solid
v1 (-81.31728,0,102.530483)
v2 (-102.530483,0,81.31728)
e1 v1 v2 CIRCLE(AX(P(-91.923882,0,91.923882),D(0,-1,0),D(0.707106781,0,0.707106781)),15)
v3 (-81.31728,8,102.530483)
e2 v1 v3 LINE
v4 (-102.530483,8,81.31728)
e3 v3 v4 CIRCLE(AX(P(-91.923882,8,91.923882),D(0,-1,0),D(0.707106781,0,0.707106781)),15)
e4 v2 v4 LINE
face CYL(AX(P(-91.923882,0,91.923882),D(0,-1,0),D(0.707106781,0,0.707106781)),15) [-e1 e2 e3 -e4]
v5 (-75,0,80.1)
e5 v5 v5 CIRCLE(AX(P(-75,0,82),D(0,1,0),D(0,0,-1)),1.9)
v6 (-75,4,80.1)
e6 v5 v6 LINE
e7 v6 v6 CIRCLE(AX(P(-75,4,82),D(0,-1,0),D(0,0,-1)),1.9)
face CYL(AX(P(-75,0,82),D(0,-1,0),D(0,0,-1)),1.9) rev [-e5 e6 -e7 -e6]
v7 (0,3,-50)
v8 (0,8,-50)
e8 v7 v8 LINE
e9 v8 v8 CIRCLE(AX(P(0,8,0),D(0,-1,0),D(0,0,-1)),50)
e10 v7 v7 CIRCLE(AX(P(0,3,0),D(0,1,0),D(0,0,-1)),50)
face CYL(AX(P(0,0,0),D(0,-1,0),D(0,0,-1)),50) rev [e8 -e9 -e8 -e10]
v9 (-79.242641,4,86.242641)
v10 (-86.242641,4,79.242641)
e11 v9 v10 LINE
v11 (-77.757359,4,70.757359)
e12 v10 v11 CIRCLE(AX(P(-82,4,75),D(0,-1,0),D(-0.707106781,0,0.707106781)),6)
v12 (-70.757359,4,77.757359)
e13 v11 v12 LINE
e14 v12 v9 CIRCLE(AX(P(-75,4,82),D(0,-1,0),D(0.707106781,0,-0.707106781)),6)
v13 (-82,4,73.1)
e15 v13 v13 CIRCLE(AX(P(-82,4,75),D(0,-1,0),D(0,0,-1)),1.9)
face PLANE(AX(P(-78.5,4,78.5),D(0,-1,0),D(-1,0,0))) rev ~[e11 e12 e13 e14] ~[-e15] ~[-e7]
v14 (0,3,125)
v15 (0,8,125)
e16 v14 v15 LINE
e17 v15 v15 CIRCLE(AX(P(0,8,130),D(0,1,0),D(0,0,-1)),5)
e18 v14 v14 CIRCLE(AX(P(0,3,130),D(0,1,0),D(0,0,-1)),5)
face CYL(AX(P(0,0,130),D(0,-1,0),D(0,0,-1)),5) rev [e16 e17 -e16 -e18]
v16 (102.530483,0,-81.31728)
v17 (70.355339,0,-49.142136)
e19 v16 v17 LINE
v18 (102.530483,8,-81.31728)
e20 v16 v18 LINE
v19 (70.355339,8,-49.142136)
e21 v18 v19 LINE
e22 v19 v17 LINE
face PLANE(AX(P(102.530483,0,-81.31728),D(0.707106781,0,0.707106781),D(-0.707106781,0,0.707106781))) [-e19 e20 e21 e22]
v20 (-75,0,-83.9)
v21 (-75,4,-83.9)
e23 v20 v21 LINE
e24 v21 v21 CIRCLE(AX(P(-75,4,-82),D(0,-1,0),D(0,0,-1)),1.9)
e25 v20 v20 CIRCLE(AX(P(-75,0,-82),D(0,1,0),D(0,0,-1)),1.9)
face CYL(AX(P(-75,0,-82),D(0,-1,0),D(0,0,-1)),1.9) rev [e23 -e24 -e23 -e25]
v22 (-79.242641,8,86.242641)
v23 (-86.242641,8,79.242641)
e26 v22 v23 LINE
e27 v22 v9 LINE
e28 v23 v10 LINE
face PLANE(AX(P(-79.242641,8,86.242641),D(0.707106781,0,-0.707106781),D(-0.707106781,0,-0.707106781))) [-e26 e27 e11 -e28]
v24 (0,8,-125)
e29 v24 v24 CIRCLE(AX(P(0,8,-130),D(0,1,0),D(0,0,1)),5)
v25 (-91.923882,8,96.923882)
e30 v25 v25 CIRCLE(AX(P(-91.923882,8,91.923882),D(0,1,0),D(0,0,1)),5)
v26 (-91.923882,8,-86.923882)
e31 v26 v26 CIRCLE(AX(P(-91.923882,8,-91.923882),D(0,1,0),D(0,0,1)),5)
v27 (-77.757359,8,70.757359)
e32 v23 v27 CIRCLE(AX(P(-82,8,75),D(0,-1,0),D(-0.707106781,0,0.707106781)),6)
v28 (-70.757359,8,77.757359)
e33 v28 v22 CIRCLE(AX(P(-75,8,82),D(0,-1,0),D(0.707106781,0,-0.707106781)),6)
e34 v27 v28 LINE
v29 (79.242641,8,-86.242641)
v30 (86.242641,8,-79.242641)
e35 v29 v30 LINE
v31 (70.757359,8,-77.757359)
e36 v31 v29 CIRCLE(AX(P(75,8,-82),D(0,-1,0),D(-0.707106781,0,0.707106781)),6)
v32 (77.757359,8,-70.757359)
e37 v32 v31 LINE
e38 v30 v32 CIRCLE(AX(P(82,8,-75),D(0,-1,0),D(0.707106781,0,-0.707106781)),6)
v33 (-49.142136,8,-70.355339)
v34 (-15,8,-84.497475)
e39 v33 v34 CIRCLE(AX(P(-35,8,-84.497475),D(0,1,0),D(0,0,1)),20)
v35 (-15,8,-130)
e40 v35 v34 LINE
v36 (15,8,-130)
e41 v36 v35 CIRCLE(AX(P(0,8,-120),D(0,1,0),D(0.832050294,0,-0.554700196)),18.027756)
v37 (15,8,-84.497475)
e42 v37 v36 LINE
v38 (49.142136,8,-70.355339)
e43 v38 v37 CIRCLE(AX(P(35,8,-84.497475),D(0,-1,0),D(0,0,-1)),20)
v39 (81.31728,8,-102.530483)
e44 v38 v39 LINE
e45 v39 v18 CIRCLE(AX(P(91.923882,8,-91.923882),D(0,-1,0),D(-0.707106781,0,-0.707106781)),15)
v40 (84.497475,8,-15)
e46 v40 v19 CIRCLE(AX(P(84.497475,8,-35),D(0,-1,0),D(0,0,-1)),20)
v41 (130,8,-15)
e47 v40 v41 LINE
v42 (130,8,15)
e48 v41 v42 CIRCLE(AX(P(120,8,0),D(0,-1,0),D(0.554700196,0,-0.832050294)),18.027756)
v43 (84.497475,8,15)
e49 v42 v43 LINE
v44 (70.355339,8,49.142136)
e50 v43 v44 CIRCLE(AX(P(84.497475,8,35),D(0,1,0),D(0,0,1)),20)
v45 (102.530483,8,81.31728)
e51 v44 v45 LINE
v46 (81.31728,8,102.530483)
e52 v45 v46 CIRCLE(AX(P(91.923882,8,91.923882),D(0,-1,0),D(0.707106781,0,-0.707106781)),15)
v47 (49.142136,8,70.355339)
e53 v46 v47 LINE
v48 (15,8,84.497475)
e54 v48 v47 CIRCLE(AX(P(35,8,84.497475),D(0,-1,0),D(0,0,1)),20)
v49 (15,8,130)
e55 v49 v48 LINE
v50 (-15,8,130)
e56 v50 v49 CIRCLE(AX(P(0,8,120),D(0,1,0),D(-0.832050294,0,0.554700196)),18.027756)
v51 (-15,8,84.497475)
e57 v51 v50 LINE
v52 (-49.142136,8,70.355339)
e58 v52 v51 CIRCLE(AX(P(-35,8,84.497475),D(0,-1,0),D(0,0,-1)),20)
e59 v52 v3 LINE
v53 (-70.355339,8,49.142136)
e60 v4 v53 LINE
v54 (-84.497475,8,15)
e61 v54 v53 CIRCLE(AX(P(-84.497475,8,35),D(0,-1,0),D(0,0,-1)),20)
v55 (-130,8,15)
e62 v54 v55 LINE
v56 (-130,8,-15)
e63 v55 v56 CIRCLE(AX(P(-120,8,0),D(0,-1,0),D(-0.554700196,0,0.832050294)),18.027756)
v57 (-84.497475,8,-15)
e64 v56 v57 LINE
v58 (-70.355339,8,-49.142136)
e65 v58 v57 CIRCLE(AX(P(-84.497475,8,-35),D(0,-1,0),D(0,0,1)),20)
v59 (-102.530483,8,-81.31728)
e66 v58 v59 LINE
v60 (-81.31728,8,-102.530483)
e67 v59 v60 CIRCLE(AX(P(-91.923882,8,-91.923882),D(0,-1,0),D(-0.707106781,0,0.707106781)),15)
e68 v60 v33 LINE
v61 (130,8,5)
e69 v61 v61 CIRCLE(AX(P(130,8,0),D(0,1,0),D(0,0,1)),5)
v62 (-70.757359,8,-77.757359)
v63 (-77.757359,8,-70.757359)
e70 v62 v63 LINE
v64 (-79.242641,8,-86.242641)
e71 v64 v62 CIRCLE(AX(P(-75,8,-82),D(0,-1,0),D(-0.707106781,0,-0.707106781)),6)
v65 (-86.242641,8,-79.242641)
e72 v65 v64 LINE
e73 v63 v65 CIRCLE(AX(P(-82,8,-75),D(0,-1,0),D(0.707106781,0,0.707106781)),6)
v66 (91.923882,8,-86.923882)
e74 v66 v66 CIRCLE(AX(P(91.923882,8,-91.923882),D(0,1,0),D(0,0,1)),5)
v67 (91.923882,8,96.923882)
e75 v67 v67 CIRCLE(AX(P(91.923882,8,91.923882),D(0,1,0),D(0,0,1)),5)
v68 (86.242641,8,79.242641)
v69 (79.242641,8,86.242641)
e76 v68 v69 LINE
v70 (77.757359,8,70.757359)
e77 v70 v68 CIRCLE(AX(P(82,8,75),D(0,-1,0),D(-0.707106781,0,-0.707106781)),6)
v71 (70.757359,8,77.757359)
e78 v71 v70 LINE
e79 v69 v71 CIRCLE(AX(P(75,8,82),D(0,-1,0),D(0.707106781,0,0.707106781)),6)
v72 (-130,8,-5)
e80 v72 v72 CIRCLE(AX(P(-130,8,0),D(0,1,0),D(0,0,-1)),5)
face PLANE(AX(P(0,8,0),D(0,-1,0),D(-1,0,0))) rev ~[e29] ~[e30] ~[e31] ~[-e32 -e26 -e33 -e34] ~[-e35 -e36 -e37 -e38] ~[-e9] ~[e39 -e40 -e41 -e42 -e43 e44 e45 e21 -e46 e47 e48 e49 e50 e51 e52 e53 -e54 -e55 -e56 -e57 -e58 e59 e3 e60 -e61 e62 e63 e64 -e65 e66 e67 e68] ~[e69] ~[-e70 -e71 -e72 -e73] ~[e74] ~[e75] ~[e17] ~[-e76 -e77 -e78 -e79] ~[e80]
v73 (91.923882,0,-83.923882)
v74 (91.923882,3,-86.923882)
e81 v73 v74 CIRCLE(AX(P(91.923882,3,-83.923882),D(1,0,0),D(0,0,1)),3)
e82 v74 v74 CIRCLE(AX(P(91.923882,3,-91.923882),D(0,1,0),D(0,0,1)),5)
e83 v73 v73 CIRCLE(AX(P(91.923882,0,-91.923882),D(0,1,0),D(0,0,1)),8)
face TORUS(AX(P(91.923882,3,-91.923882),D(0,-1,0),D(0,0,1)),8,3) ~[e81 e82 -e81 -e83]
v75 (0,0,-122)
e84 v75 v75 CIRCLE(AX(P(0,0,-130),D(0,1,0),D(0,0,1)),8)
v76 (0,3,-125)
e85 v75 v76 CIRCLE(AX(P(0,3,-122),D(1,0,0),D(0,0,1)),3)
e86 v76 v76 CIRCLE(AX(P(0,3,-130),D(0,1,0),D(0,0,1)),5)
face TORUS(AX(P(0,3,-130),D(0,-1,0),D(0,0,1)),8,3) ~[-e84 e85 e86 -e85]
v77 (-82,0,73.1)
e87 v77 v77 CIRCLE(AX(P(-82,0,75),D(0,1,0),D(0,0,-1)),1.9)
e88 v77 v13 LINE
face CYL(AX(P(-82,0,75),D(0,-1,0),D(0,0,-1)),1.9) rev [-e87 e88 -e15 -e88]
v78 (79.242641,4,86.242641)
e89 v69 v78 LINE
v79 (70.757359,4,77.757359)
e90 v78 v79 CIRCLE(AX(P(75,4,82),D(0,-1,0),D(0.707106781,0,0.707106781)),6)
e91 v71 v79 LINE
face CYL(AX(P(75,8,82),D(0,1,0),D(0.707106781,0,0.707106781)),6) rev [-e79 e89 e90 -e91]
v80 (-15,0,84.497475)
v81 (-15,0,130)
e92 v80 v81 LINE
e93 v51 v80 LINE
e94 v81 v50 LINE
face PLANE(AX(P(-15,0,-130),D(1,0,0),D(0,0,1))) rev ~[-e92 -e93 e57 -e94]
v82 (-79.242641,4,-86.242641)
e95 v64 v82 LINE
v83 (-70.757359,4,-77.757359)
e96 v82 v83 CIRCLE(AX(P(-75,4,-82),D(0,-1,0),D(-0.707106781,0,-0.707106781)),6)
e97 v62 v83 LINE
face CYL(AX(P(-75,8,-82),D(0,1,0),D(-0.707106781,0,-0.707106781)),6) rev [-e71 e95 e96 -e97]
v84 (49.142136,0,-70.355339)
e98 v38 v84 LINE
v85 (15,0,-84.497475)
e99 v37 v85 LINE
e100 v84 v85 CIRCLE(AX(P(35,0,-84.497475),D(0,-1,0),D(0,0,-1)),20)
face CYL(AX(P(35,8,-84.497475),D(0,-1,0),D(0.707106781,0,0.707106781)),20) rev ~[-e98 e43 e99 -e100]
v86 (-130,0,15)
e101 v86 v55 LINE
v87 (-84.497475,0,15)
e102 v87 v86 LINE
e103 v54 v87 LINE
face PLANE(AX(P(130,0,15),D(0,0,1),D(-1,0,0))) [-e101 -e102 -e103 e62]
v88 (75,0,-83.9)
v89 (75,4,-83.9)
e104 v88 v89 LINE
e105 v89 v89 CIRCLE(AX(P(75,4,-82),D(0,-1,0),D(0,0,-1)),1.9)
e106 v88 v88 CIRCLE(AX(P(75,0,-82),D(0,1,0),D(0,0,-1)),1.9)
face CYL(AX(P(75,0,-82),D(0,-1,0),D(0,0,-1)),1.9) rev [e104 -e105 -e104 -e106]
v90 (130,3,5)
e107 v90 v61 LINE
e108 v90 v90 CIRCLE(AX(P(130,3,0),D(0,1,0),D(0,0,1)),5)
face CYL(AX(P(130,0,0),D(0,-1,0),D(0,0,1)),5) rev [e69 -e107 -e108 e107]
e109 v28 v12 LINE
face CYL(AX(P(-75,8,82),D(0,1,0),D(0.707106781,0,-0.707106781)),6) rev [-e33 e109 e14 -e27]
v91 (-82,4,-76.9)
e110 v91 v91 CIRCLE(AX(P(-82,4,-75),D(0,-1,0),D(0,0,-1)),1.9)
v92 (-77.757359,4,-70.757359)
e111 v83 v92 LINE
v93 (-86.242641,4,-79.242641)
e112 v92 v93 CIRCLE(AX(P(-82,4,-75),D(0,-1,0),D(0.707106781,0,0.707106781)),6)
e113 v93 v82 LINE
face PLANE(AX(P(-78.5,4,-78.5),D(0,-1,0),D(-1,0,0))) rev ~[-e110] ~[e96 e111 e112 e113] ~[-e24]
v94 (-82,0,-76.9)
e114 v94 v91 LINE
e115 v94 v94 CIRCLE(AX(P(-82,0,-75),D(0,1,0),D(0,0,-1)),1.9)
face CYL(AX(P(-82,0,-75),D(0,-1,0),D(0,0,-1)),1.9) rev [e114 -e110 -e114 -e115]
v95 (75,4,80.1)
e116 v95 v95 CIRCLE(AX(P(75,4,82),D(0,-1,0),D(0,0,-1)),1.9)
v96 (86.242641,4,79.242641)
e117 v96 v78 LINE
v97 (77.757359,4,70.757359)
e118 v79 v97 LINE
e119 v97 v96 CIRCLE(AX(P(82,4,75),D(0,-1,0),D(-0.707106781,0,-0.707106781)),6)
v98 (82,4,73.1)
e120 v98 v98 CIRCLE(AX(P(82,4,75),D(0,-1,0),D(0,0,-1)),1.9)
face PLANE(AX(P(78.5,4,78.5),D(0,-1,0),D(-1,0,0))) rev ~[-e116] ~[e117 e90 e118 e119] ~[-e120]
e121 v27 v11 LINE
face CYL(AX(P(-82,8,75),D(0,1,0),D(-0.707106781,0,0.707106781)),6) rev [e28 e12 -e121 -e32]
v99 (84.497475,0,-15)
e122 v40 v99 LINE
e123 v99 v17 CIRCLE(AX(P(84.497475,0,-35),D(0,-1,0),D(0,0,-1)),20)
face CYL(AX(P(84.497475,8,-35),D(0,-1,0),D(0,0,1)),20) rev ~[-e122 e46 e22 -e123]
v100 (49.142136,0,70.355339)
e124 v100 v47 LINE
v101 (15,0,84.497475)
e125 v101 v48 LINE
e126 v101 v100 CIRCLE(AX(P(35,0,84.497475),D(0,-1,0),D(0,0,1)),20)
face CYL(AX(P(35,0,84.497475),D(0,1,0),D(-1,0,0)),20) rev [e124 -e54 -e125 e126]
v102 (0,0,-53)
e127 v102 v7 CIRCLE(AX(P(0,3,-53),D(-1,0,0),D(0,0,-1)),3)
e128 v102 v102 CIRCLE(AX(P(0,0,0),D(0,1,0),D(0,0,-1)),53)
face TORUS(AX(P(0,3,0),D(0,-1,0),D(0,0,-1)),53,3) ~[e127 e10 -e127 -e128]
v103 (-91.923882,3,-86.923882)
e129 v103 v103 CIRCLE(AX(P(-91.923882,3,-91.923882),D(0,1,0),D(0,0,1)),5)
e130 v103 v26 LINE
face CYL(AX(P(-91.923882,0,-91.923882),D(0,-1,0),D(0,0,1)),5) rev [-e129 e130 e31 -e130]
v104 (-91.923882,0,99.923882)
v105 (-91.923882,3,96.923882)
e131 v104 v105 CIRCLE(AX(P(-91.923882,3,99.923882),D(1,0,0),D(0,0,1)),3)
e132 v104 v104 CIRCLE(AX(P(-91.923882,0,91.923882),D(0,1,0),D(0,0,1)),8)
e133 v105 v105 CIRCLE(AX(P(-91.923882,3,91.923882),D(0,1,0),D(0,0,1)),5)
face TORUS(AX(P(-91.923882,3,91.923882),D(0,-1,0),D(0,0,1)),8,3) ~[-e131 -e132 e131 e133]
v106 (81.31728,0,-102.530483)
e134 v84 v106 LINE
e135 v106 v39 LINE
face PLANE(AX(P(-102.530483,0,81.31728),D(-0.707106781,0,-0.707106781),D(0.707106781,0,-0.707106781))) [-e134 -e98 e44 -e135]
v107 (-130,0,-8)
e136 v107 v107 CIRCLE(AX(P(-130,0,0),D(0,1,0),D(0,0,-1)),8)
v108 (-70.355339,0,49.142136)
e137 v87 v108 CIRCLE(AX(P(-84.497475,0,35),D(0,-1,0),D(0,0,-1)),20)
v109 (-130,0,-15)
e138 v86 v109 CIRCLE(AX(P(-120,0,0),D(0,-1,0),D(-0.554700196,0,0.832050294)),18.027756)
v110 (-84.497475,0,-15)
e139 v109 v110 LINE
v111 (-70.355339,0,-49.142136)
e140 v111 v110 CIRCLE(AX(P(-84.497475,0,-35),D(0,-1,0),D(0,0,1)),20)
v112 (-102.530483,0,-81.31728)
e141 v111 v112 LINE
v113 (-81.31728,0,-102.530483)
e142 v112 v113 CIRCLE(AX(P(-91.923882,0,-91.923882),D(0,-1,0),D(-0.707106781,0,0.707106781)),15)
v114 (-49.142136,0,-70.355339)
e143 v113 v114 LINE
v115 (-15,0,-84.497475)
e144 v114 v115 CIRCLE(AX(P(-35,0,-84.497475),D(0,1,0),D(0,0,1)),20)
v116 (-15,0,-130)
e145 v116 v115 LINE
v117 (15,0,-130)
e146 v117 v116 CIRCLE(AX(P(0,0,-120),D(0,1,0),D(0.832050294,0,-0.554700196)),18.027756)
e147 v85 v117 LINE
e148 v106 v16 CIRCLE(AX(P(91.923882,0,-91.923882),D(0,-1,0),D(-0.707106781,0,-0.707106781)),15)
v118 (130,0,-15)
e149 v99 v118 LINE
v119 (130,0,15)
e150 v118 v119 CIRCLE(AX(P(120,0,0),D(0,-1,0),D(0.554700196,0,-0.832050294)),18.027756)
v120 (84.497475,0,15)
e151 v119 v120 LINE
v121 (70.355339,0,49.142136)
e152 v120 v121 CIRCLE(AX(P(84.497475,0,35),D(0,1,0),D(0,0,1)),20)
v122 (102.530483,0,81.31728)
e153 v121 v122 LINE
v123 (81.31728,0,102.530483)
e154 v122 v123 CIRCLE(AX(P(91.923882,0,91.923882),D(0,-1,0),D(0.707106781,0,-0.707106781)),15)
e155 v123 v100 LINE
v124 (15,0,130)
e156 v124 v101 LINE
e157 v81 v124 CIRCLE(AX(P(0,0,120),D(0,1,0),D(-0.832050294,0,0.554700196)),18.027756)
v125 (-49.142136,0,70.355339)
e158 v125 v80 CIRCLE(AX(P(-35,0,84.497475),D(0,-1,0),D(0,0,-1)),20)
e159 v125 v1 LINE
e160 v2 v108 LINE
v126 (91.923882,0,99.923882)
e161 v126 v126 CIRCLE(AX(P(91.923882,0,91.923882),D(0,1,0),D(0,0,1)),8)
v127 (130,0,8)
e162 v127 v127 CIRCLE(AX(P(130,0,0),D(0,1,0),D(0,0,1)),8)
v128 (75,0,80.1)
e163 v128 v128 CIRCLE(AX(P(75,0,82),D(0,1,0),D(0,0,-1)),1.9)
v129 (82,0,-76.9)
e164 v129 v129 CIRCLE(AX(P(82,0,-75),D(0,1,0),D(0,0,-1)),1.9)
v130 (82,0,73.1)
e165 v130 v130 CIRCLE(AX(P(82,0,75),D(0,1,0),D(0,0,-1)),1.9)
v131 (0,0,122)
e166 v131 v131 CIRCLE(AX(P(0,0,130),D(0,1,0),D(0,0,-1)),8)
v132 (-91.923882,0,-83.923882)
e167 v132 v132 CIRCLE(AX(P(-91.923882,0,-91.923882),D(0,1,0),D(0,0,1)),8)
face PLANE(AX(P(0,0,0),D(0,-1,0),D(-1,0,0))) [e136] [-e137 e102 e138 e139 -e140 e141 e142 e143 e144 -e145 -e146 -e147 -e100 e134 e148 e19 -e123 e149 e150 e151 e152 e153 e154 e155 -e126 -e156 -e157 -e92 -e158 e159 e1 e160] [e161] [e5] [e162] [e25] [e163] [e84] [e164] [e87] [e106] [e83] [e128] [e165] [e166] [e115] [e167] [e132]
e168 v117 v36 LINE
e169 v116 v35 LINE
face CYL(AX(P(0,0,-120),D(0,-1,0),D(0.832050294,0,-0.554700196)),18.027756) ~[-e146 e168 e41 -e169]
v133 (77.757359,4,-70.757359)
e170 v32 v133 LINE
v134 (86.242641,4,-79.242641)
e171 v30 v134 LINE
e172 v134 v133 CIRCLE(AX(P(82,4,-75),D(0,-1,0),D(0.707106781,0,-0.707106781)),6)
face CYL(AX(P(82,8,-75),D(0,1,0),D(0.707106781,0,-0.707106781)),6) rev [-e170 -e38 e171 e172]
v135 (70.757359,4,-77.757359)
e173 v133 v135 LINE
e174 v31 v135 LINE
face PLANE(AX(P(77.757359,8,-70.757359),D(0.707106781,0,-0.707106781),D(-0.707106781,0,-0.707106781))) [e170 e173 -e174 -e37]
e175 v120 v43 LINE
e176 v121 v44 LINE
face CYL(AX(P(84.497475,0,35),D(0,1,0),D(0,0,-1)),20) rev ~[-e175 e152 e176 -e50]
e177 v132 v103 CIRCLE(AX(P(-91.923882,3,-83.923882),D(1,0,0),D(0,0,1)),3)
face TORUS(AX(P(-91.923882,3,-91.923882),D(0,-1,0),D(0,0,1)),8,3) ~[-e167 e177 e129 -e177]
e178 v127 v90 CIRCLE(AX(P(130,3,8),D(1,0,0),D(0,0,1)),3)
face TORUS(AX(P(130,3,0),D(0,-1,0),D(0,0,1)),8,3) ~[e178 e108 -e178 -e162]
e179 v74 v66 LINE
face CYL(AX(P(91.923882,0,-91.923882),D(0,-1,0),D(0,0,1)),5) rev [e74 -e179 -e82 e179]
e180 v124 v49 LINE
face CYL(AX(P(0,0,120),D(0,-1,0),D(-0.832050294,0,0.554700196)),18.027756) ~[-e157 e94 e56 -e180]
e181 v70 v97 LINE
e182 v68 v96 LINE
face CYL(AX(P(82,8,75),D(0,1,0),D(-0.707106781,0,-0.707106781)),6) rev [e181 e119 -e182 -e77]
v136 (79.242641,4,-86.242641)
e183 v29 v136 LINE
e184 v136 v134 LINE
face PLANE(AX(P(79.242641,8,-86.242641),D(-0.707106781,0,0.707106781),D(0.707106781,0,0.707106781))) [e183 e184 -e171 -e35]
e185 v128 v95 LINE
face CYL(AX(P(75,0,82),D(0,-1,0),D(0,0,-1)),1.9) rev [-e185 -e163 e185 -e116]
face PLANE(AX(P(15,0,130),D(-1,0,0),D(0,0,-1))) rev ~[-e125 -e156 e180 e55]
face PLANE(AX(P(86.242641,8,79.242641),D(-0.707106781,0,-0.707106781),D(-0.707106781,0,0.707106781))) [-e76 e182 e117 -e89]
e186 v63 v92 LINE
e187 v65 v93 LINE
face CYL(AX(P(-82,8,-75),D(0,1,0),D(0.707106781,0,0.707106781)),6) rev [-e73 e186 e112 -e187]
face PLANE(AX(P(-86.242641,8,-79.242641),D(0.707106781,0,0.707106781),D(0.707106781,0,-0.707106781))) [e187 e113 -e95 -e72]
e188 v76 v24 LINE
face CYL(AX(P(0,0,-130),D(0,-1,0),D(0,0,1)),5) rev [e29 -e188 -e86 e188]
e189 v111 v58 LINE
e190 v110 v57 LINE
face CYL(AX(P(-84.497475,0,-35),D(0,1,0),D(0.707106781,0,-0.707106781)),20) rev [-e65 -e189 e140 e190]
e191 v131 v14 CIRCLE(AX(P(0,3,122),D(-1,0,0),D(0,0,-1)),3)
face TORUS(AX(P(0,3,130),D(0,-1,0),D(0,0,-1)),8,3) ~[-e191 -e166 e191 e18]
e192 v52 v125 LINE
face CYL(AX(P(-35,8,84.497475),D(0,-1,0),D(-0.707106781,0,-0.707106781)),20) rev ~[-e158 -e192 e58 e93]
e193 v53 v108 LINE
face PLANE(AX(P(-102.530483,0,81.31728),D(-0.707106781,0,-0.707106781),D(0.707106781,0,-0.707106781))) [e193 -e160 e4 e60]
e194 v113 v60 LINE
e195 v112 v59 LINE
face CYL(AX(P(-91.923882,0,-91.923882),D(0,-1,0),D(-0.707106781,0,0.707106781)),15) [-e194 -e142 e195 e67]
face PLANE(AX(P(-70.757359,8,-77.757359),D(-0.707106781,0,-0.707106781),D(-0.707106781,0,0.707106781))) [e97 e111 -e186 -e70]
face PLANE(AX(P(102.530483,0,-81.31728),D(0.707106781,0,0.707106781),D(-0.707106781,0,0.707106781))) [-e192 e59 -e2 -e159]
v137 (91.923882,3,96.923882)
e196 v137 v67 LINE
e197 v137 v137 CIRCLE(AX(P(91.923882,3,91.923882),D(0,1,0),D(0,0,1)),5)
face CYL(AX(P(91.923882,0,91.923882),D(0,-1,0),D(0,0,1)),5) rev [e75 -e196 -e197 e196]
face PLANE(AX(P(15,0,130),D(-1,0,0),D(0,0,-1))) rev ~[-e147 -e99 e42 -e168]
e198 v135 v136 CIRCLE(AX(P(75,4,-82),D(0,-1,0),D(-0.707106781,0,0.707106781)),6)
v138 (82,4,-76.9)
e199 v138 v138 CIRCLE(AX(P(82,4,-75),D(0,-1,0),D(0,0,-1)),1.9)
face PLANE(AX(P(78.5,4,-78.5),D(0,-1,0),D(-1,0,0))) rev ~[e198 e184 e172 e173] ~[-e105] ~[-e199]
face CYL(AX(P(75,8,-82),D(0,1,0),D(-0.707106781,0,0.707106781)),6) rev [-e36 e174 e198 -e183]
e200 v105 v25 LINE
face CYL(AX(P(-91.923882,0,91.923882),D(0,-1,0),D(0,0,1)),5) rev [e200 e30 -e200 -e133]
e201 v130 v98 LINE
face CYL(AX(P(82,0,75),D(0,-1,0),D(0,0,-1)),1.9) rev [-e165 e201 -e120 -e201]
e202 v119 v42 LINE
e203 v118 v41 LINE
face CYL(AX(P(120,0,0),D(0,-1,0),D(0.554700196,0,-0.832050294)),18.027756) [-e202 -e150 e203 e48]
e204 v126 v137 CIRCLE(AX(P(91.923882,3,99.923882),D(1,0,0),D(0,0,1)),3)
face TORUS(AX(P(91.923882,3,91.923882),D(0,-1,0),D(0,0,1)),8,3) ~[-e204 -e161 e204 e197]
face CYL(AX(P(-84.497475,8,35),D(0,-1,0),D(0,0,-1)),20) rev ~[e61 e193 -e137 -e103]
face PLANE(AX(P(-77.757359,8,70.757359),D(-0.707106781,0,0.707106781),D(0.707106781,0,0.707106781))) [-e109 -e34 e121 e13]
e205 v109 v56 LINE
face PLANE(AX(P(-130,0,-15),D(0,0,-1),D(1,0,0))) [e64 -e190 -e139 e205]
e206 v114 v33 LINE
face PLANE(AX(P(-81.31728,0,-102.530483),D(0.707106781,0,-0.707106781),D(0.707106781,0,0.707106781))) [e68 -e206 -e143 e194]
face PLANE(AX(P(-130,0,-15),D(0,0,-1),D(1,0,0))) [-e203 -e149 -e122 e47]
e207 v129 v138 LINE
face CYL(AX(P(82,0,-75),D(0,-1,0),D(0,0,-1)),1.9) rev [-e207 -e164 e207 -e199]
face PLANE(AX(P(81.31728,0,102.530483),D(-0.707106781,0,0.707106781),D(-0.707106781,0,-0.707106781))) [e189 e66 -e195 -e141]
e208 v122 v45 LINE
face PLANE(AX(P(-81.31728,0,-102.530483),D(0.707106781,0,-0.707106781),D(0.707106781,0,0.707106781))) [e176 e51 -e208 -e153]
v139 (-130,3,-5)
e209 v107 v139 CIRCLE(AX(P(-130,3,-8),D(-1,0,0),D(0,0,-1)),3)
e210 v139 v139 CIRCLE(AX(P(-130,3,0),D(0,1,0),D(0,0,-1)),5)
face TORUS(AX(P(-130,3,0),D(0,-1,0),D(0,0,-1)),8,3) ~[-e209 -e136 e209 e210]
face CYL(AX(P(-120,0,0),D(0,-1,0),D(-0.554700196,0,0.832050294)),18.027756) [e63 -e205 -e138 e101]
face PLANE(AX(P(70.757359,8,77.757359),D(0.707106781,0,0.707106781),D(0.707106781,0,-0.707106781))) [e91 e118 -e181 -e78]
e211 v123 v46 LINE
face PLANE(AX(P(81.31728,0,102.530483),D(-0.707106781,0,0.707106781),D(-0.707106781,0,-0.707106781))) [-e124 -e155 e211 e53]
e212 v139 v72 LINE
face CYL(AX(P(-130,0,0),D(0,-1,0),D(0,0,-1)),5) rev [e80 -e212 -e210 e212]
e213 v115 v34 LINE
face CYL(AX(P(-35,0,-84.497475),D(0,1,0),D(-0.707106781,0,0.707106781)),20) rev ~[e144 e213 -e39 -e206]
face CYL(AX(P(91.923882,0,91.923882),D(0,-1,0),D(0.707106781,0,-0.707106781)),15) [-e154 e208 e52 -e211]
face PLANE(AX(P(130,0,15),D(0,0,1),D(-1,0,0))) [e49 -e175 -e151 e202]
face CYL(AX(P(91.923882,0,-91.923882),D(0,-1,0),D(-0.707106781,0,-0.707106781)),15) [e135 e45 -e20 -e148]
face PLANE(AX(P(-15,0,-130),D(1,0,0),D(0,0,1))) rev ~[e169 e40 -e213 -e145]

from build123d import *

# Parameters (mm, degrees)
SKETCH_1_R          = 5
EXTRUDE_1_DEPTH     = 8
SKETCH_2_R          = 5
EXTRUDE_2_DEPTH     = 8
SKETCH_3_R          = 5
EXTRUDE_3_DEPTH     = 8
SKETCH_4_R          = 5
EXTRUDE_4_DEPTH     = 8
FILLET_2_R          = 20
SKETCH_5_R          = 1.9
SKETCH_5_R_2        = 50
CUT_EXTRUDE_1_DEPTH = 10
CUT_EXTRUDE_2_DEPTH = 4
FILLET_3_R          = 3


with BuildPart() as part:
    # Эскиз1 → Бобышка-Вытянуть1 (new body)
    with BuildSketch(Plane(origin=(0, 0, 0), x_dir=(1, 0, 0), z_dir=(0, 1, 0))):
        with BuildLine():
            Line((-130, 15), (130, 15))
            ThreePointArc((130, 15), (138.027756377, 0), (130, -15))
            Line((130, -15), (-130, -15))
            ThreePointArc((-130, -15), (-138.027756377, 0), (-130, 15))
        make_face()
        with Locations(Location((130, 0, 0), (0, 0, 270))):
            Circle(SKETCH_1_R, mode=Mode.SUBTRACT)
        with Locations(Location((-130, 0, 0), (0, 0, 90))):
            Circle(SKETCH_1_R, mode=Mode.SUBTRACT)
    extrude(amount=EXTRUDE_1_DEPTH)

    # Эскиз2 → Бобышка-Вытянуть2 (add)
    with BuildSketch(Plane(origin=(0, 0, 0), x_dir=(1, 0, 0), z_dir=(0, 1, 0))):
        with BuildLine():
            Line((-15, 130), (-15, -130))
            ThreePointArc((-15, -130), (0, -138.027756377), (15, -130))
            Line((15, -130), (15, 130))
            ThreePointArc((15, 130), (0, 138.027756377), (-15, 130))
        make_face()
        with Locations(Location((0, 130, 0), (0, 0, 270))):
            Circle(SKETCH_2_R, mode=Mode.SUBTRACT)
        with Locations(Location((0, -130, 0), (0, 0, 90))):
            Circle(SKETCH_2_R, mode=Mode.SUBTRACT)
    extrude(amount=EXTRUDE_2_DEPTH)

    # Эскиз3 → Бобышка-Вытянуть3 (add)
    with BuildSketch(Plane(origin=(0, 0, 0), x_dir=(1, 0, 0), z_dir=(0, 1, 0))):
        with BuildLine():
            Line((102.530483272, 81.317279836), (-81.317279836, -102.530483272))
            ThreePointArc((-81.317279836, -102.530483272), (-102.530483272, -102.530483272), (-102.530483272, -81.317279836))
            Line((-102.530483272, -81.317279836), (81.317279836, 102.530483272))
            ThreePointArc((81.317279836, 102.530483272), (102.530483272, 102.530483272), (102.530483272, 81.317279836))
        make_face()
        with Locations(Location((91.923881554, 91.923881554, 0), (0, 0, 270))):
            Circle(SKETCH_3_R, mode=Mode.SUBTRACT)
        with Locations(Location((-91.923881554, -91.923881554, 0), (0, 0, 270))):
            Circle(SKETCH_3_R, mode=Mode.SUBTRACT)
    extrude(amount=EXTRUDE_3_DEPTH)

    # Эскиз4 → Бобышка-Вытянуть4 (add)
    with BuildSketch(Plane(origin=(0, 0, 0), x_dir=(1, 0, 0), z_dir=(0, 1, 0))):
        with BuildLine():
            Line((-81.317279836, 102.530483272), (102.530483272, -81.317279836))
            ThreePointArc((102.530483272, -81.317279836), (102.530483272, -102.530483272), (81.317279836, -102.530483272))
            Line((81.317279836, -102.530483272), (-102.530483272, 81.317279836))
            ThreePointArc((-102.530483272, 81.317279836), (-102.530483272, 102.530483272), (-81.317279836, 102.530483272))
        make_face()
        with Locations(Location((-91.923881554, 91.923881554, 0), (0, 0, 270))):
            Circle(SKETCH_4_R, mode=Mode.SUBTRACT)
        with Locations(Location((91.923881554, -91.923881554, 0), (0, 0, 270))):
            Circle(SKETCH_4_R, mode=Mode.SUBTRACT)
    extrude(amount=EXTRUDE_4_DEPTH)

    # Скругление2
    fillet_2_edges = [part.edges().sort_by_distance(p)[0] for p in [
        (15, 4, -36.213203436),
        (-15, 4, 36.213203436),
        (36.213203436, 4, -15),
        (-36.213203436, 4, 15),
        (-15, 4, -36.213203436),
        (15, 4, 36.213203436),
        (-36.213203436, 4, -15),
        (36.213203436, 4, 15),
    ]]
    fillet(fillet_2_edges, radius=FILLET_2_R)

    # Эскиз5 → Вырез-Вытянуть1 (cut)
    with BuildSketch(Plane(origin=(0, 0, 0), x_dir=(1, 0, 0), z_dir=(0, 1, 0))):
        with Locations(Location((75, 82, 0), (0, 0, 90))):
            Circle(SKETCH_5_R)
        with Locations(Location((82, 75, 0), (0, 0, 90))):
            Circle(SKETCH_5_R)
        with Locations(Location((-82, 75, 0), (0, 0, 90))):
            Circle(SKETCH_5_R)
        with Locations(Location((-75, 82, 0), (0, 0, 90))):
            Circle(SKETCH_5_R)
        with Locations(Location((-75, -82, 0), (0, 0, 90))):
            Circle(SKETCH_5_R)
        with Locations(Location((-82, -75, 0), (0, 0, 90))):
            Circle(SKETCH_5_R)
        with Locations(Location((82, -75, 0), (0, 0, 90))):
            Circle(SKETCH_5_R)
        with Locations(Location((75, -82, 0), (0, 0, 90))):
            Circle(SKETCH_5_R)
        with Locations(Location((0, 0, 0), (0, 0, 90))):
            Circle(SKETCH_5_R_2)
    extrude(amount=CUT_EXTRUDE_1_DEPTH, mode=Mode.SUBTRACT)

    # Эскиз6 → Вырез-Вытянуть2 (cut)
    with BuildSketch(Plane(origin=(0, 8, 0), x_dir=(1, 0, 0), z_dir=(0, 1, 0))):
        with BuildLine():
            Line((-86.242640687, 79.242640687), (-79.242640687, 86.242640687))
            ThreePointArc((-79.242640687, 86.242640687), (-70.757359313, 86.242640687), (-70.757359313, 77.757359313))
            Line((-70.757359313, 77.757359313), (-77.757359313, 70.757359313))
            ThreePointArc((-77.757359313, 70.757359313), (-86.242640687, 70.757359313), (-86.242640687, 79.242640687))
        make_face()
        with BuildLine():
            Line((79.242640687, 86.242640687), (86.242640687, 79.242640687))
            ThreePointArc((86.242640687, 79.242640687), (86.242640687, 70.757359313), (77.757359313, 70.757359313))
            Line((77.757359313, 70.757359313), (70.757359313, 77.757359313))
            ThreePointArc((70.757359313, 77.757359313), (70.757359313, 86.242640687), (79.242640687, 86.242640687))
        make_face()
        with BuildLine():
            Line((70.757359313, -77.757359313), (77.757359313, -70.757359313))
            ThreePointArc((77.757359313, -70.757359313), (86.242640687, -70.757359313), (86.242640687, -79.242640687))
            Line((86.242640687, -79.242640687), (79.242640687, -86.242640687))
            ThreePointArc((79.242640687, -86.242640687), (70.757359313, -86.242640687), (70.757359313, -77.757359313))
        make_face()
        with BuildLine():
            Line((-77.757359313, -70.757359313), (-70.757359313, -77.757359313))
            ThreePointArc((-70.757359313, -77.757359313), (-70.757359313, -86.242640687), (-79.242640687, -86.242640687))
            Line((-79.242640687, -86.242640687), (-86.242640687, -79.242640687))
            ThreePointArc((-86.242640687, -79.242640687), (-86.242640687, -70.757359313), (-77.757359313, -70.757359313))
        make_face()
    extrude(amount=-CUT_EXTRUDE_2_DEPTH, mode=Mode.SUBTRACT)

    # Скругление3
    fillet_3_edges = [part.edges().sort_by_distance(p)[0] for p in [
        (-130, 0, 5),
        (130, 0, -5),
        (0, 0, 50),
        (0, 0, -135),
        (0, 0, 135),
        (-91.923881554, 0, 86.923881554),
        (91.923881554, 0, -96.923881554),
        (91.923881554, 0, 86.923881554),
        (-91.923881554, 0, -96.923881554),
    ]]
    fillet(fillet_3_edges, radius=FILLET_3_R)


solid = part.part
